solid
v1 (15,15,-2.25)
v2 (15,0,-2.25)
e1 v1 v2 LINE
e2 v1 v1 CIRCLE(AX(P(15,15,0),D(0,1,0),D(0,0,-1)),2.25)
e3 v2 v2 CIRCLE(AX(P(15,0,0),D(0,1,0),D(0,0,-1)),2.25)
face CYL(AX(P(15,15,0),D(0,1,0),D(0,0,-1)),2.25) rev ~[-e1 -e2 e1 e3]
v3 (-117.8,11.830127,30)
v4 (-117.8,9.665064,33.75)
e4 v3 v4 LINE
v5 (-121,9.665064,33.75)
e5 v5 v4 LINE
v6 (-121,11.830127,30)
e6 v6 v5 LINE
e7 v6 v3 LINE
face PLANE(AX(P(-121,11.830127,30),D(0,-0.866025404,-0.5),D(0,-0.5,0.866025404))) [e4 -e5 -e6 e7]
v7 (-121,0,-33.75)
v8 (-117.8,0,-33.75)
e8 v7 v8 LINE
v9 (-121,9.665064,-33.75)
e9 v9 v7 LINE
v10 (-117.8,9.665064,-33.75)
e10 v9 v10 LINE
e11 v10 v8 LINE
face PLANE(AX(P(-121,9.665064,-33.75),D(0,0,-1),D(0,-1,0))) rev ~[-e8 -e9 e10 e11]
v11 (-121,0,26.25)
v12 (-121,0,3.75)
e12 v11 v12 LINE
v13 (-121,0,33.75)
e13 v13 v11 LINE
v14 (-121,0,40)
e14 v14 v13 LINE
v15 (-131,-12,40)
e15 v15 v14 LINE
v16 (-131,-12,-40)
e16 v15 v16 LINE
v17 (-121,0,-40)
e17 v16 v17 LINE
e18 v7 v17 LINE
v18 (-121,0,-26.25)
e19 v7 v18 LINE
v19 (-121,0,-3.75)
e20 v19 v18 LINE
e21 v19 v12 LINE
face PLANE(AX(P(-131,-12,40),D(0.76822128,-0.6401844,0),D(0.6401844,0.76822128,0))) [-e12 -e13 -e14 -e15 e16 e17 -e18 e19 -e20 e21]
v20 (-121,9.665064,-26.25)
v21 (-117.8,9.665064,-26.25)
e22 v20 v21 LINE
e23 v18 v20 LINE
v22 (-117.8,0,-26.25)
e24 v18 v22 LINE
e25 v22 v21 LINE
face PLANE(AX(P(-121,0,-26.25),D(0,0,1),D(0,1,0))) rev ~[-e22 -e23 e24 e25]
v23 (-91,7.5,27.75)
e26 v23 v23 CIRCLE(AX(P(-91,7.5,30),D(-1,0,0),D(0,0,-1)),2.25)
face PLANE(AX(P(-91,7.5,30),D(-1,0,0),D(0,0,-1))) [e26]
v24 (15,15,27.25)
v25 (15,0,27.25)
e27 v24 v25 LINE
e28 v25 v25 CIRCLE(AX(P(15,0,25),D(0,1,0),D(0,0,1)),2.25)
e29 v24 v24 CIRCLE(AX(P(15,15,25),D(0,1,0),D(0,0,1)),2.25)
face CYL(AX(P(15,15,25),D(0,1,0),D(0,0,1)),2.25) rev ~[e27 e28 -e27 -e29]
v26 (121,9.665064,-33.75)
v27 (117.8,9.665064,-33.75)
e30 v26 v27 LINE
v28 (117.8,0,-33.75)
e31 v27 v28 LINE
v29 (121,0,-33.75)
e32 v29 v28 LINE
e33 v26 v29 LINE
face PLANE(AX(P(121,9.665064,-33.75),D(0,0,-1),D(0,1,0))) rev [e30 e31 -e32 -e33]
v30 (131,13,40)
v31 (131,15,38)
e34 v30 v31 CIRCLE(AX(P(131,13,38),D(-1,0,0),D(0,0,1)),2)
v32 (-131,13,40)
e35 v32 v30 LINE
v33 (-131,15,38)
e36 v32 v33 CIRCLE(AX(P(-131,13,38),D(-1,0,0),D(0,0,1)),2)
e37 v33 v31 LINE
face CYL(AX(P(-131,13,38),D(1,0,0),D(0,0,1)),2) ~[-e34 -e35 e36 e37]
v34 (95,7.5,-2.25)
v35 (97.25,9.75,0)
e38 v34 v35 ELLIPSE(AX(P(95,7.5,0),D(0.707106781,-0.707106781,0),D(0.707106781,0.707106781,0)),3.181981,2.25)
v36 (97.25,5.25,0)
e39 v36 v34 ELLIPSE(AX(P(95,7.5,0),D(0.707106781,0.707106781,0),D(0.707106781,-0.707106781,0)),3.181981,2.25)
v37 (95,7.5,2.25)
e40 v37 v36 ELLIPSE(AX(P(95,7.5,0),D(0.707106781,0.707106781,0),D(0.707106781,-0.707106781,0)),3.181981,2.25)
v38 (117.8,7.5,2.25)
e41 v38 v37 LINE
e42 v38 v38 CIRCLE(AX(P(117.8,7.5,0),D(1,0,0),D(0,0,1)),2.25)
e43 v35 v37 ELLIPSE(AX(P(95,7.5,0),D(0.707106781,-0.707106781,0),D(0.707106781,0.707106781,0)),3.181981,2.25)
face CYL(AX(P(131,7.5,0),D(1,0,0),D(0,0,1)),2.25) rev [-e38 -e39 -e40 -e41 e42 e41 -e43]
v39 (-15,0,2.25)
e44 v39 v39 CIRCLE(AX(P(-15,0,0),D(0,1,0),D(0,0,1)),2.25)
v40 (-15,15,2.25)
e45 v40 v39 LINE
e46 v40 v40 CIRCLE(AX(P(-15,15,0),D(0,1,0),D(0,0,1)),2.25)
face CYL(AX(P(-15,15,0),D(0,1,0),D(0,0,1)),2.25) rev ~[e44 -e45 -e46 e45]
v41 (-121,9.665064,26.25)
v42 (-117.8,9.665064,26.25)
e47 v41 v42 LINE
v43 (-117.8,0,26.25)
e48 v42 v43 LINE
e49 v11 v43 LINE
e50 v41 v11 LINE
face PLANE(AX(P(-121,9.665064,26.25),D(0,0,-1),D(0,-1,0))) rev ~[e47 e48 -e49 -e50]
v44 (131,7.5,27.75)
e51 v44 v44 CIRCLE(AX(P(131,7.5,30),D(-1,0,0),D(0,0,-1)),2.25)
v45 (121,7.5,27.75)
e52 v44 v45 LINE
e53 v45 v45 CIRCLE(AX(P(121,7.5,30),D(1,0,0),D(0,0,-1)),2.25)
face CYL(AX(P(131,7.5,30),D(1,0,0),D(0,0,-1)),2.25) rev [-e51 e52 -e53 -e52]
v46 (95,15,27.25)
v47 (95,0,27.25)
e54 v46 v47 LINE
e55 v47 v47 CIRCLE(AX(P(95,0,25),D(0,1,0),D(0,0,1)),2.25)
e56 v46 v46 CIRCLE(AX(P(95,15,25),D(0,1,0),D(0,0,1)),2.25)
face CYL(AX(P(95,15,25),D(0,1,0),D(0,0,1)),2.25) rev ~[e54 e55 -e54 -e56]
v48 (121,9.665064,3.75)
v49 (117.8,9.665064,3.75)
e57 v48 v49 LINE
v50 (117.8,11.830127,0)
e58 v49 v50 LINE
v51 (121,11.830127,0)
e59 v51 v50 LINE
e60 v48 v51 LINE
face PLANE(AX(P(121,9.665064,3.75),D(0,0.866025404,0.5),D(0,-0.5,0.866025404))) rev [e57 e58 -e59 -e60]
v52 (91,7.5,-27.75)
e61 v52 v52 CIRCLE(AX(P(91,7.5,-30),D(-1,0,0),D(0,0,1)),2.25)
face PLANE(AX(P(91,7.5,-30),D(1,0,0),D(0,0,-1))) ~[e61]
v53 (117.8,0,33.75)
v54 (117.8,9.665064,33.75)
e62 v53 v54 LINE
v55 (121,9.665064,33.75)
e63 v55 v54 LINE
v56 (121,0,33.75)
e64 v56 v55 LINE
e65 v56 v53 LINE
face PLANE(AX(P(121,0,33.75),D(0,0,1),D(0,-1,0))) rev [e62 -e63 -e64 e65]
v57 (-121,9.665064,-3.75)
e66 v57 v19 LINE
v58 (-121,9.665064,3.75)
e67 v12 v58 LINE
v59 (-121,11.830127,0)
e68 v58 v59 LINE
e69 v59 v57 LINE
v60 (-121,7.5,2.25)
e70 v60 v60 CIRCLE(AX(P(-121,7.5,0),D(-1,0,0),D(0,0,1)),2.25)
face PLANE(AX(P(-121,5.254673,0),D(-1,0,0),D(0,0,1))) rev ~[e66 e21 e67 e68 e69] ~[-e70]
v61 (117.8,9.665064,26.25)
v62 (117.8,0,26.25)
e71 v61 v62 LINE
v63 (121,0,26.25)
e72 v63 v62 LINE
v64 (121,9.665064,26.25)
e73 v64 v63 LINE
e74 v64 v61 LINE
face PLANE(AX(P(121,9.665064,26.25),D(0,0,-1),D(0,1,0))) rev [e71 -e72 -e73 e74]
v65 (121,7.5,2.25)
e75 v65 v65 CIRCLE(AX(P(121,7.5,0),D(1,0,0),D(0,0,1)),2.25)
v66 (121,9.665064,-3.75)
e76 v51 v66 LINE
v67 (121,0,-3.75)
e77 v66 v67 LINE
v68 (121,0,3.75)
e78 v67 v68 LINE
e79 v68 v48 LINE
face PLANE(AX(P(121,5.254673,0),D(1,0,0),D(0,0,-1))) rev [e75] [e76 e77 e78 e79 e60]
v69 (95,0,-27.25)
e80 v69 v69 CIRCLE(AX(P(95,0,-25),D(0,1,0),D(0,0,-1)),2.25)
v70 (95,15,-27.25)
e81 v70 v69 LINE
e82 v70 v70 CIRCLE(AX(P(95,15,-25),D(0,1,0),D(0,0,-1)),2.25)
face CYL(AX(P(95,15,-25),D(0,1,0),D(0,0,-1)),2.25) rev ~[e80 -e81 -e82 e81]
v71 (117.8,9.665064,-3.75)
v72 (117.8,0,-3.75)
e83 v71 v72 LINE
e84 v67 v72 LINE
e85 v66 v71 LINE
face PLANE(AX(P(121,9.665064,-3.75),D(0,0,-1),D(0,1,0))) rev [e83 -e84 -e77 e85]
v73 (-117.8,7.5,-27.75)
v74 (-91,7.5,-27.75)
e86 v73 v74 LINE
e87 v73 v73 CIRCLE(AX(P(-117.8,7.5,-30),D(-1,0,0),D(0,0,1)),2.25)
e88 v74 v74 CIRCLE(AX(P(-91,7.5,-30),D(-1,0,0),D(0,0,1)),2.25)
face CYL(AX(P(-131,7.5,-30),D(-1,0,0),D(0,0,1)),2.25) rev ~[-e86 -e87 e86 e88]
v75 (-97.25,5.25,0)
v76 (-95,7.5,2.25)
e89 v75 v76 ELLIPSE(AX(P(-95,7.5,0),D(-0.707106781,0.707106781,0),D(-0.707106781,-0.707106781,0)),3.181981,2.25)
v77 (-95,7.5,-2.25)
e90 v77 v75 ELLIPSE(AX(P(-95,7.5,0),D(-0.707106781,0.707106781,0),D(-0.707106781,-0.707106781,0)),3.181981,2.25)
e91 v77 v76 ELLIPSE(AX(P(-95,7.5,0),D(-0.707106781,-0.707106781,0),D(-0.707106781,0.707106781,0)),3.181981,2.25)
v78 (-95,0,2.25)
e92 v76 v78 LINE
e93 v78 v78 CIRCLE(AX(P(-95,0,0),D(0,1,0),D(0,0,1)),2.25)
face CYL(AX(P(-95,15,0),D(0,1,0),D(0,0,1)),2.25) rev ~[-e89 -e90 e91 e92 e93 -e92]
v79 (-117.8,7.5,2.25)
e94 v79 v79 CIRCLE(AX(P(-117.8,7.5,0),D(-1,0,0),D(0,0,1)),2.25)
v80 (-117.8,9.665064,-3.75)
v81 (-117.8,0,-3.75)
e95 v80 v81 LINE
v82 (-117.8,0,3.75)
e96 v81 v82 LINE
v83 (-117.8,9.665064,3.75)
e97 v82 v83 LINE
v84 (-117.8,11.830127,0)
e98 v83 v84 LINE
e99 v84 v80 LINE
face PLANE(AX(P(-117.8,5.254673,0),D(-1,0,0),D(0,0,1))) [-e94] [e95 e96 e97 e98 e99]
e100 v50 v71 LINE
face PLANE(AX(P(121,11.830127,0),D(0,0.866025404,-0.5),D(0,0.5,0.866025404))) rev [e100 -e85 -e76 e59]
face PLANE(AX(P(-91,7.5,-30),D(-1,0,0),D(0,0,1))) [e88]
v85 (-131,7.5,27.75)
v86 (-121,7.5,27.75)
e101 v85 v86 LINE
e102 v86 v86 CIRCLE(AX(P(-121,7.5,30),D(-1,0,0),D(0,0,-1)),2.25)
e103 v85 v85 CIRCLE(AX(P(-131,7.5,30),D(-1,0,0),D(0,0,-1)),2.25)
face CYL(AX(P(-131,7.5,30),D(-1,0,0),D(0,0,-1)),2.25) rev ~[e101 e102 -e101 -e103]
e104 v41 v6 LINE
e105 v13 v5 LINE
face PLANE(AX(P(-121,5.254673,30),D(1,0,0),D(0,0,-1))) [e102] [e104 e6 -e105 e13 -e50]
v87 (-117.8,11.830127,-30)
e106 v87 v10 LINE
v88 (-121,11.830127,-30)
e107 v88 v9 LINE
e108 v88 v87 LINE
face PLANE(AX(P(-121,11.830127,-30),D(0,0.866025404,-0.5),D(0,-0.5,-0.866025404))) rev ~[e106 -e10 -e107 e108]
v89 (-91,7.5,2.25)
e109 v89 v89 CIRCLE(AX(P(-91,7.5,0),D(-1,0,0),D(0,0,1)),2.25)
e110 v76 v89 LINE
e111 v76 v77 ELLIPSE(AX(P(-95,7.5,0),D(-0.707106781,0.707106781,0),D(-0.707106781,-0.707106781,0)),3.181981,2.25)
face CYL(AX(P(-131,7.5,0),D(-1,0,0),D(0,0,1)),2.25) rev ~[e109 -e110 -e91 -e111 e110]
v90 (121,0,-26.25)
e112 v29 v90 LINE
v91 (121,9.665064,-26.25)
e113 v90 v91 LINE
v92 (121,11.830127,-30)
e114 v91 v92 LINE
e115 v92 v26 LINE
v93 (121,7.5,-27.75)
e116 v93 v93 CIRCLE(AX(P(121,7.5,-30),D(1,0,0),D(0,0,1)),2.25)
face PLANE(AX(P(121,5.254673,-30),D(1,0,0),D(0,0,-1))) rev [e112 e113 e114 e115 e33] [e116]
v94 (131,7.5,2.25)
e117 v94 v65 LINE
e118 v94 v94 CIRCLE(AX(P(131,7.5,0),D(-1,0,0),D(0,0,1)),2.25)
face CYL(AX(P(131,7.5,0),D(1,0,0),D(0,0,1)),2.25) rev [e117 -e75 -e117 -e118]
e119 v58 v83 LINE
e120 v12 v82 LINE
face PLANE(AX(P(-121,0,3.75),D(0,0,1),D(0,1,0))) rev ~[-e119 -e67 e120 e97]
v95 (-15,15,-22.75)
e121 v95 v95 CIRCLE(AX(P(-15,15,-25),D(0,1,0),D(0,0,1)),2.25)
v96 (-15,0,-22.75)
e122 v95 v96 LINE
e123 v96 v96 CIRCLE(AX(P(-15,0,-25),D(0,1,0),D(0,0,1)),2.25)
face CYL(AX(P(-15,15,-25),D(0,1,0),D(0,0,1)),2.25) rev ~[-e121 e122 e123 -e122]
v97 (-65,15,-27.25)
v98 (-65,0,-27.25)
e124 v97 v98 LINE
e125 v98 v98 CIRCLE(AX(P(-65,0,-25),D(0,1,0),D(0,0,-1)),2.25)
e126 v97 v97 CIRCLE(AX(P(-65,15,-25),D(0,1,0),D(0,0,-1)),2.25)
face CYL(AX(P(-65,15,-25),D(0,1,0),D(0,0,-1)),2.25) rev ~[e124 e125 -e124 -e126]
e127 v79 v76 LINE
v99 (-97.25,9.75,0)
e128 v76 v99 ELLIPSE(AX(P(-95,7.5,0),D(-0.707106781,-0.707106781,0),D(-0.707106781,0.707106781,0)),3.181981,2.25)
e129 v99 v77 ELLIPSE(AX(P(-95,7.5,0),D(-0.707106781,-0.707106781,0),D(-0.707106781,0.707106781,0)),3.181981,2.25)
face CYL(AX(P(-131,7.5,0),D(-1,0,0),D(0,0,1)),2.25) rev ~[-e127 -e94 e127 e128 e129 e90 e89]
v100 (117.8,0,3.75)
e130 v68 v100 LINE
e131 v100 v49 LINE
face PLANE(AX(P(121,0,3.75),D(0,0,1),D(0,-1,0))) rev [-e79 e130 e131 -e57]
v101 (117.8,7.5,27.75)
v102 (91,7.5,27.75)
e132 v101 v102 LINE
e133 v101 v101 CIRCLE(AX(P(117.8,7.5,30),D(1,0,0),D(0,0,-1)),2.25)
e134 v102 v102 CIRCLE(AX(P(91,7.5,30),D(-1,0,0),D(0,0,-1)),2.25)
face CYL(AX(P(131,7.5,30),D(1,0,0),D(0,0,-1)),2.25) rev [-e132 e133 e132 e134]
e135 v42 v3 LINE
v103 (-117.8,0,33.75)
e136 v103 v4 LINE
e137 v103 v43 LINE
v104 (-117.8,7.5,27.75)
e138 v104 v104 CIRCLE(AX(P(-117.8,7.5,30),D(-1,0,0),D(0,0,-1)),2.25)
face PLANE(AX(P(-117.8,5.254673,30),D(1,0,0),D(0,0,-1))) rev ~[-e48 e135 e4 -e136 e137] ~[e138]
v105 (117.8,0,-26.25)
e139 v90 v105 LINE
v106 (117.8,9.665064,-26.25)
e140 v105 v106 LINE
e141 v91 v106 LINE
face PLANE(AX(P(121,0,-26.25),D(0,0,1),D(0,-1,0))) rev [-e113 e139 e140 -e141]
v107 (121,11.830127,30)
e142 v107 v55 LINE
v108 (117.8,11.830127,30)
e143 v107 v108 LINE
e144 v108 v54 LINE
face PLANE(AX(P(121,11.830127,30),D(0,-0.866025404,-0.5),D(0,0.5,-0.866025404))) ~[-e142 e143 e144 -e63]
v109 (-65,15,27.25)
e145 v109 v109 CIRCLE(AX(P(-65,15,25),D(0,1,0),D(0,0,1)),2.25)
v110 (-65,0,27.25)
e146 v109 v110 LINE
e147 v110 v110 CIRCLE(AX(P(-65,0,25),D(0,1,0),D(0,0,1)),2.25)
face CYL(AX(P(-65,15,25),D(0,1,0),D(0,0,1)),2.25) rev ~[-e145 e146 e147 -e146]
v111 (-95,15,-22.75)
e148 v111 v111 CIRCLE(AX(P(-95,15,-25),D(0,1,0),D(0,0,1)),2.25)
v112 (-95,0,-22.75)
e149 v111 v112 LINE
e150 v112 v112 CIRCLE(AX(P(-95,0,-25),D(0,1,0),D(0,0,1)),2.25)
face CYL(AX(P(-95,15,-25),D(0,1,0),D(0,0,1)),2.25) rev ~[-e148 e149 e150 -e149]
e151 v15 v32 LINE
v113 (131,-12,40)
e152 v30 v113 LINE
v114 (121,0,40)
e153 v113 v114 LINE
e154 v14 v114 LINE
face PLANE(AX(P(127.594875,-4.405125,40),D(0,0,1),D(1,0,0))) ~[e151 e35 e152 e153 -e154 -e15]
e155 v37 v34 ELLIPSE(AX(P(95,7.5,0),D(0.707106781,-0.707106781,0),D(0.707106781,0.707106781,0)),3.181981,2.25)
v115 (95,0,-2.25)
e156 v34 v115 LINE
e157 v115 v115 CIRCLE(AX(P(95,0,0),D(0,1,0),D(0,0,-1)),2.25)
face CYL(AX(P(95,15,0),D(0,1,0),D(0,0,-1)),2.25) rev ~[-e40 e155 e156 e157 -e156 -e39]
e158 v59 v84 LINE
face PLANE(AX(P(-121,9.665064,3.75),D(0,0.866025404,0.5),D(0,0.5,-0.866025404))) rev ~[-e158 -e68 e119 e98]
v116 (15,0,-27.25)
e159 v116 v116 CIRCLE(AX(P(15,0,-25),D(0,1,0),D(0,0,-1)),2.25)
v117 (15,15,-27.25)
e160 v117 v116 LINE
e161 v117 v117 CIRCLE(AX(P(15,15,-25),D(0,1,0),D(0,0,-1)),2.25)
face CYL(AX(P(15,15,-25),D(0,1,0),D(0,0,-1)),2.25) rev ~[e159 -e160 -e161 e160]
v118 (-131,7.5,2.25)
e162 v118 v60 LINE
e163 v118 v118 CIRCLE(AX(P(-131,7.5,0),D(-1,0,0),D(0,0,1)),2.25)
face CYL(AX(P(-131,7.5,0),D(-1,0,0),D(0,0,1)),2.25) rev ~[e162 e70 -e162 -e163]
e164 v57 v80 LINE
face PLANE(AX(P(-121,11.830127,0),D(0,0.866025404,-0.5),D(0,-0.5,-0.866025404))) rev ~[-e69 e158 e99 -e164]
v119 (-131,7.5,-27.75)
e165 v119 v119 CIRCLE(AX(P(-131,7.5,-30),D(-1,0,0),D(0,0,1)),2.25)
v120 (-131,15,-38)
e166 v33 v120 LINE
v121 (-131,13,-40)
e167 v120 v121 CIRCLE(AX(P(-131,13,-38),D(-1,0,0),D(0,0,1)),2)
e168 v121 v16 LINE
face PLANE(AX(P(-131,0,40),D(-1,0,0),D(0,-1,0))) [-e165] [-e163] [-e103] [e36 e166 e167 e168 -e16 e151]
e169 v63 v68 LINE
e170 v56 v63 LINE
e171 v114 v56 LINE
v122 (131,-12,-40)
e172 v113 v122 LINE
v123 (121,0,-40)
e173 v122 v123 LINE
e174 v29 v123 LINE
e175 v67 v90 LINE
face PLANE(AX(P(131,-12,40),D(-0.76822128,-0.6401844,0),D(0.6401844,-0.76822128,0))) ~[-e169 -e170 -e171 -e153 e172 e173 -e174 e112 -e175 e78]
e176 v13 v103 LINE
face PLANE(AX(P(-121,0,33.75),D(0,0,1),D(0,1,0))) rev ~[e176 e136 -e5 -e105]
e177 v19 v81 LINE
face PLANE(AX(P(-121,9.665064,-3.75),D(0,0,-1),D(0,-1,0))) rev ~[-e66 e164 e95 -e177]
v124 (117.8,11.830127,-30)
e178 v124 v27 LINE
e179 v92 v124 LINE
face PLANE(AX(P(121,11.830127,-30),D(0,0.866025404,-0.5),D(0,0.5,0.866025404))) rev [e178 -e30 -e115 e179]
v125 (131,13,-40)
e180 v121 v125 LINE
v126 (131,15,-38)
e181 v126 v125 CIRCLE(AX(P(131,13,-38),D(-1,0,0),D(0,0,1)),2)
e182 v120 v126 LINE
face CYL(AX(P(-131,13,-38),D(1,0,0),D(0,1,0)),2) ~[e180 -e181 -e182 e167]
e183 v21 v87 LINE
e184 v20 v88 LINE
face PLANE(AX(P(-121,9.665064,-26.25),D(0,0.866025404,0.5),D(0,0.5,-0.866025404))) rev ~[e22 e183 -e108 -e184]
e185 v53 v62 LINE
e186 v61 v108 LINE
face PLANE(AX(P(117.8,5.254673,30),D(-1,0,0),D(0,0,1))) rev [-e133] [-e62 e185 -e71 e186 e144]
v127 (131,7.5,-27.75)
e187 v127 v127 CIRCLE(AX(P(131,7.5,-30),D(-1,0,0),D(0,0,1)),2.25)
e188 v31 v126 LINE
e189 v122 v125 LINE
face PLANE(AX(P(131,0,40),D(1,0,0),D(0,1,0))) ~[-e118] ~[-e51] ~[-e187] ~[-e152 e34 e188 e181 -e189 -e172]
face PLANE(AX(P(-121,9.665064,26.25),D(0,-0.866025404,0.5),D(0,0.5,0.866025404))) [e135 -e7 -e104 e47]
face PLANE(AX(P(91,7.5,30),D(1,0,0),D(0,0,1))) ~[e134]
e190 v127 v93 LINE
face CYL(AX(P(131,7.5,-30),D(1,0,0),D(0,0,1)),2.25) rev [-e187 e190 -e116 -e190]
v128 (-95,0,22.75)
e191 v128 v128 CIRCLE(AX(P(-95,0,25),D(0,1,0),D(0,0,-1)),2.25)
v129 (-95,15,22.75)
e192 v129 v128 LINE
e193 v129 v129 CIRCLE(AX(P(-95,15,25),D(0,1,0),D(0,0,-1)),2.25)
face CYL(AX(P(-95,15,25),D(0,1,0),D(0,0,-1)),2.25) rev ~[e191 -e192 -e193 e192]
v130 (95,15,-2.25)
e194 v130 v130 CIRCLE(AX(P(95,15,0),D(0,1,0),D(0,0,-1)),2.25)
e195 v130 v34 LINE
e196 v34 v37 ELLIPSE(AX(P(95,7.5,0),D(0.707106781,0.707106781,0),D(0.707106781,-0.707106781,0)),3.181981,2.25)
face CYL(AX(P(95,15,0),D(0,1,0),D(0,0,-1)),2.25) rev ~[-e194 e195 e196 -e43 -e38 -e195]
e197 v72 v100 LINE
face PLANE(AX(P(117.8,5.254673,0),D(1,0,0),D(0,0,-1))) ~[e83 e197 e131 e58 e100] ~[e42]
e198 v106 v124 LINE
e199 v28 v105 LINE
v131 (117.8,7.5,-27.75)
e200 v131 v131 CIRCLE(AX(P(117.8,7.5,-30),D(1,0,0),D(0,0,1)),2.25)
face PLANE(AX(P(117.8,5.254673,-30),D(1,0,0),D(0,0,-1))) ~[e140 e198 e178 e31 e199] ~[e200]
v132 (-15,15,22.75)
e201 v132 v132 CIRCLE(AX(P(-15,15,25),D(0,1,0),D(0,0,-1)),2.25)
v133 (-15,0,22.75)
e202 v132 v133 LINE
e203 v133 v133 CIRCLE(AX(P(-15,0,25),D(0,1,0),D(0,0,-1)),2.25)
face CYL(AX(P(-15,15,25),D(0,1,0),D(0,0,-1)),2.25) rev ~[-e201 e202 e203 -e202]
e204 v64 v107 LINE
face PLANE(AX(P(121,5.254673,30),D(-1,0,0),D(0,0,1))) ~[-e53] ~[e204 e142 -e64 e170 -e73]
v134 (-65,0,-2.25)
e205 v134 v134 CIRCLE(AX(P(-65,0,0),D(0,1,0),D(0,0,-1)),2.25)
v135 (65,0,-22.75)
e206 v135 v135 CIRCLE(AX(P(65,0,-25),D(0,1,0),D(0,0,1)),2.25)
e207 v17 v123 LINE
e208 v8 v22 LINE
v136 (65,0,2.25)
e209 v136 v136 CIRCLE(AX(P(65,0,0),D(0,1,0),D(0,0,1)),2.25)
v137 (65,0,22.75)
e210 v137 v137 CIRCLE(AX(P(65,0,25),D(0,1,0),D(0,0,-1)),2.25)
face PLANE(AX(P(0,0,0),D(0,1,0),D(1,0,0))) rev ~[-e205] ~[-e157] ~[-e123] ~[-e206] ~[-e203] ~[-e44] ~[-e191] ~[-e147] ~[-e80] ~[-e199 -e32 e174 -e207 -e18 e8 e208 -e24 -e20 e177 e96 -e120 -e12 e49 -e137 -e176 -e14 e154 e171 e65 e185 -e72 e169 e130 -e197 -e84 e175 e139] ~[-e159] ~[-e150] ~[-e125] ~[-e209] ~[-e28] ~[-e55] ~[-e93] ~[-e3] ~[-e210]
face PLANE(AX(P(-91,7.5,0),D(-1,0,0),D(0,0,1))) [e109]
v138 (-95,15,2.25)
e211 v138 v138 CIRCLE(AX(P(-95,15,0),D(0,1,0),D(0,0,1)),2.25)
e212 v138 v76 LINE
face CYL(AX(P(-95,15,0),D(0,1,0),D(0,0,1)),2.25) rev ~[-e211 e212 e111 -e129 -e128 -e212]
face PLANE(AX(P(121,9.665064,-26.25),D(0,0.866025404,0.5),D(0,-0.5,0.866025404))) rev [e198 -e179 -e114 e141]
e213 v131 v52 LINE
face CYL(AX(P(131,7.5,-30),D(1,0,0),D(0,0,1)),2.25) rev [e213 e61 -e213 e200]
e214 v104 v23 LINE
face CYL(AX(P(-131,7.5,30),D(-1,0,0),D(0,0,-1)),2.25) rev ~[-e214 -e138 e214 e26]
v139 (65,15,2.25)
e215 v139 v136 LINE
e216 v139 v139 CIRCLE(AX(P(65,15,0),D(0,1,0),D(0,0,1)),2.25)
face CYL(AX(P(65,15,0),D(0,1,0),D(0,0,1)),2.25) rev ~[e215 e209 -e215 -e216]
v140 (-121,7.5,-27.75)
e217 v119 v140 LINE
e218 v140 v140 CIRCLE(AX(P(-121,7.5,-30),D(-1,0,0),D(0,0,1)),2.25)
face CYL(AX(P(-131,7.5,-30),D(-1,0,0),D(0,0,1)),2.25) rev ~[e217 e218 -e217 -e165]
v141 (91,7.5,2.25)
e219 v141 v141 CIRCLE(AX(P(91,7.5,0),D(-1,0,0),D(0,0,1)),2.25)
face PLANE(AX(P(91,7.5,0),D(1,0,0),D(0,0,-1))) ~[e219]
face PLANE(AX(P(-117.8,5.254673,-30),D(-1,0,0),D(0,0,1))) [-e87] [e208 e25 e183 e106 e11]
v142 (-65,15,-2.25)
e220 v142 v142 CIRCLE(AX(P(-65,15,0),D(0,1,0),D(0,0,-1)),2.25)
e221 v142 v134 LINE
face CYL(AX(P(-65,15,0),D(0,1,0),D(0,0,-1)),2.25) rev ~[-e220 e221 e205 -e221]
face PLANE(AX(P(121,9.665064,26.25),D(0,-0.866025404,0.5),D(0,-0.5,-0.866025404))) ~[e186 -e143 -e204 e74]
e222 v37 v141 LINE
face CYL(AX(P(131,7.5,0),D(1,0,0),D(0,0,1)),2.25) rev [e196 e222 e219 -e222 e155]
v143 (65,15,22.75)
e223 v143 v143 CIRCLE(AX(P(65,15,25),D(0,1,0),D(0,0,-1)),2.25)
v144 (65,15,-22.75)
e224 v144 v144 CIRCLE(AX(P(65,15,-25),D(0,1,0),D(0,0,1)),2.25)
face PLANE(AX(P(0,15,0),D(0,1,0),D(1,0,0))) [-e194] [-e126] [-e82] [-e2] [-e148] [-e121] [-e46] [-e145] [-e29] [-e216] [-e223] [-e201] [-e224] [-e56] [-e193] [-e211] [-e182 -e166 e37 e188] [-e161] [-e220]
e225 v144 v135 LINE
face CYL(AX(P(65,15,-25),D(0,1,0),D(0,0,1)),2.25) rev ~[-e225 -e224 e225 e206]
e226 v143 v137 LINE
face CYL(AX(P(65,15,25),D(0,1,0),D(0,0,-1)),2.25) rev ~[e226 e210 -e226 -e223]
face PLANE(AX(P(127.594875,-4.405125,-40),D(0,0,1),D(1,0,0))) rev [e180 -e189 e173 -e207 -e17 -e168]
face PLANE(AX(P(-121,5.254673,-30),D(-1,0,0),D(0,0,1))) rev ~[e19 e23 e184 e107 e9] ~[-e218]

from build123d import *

# Parameters (mm, degrees)
SKETCH1_W           = 262
SKETCH1_H           = 80
BOSS_EXTRUDE1_DEPTH = 15
SKETCH2_R           = 2.25
CUT_EXTRUDE1_DEPTH  = 40
CUT_EXTRUDE2_DEPTH  = 3.2
SKETCH4_R           = 2.25
CUT_EXTRUDE3_DEPTH  = 138.789694825
LPATTERN1_COUNT     = 2
LPATTERN1_PITCH     = 80
LPATTERN1_COL_COUNT = 2
LPATTERN1_COL_PITCH = 80
FILLET1_R           = 2
BOSS_EXTRUDE2_DEPTH = 80


with BuildPart() as part:
    # Sketch1 → Boss-Extrude1 (new body)
    with BuildSketch(Plane(origin=(0, 0, 0), x_dir=(1, 0, 0), z_dir=(0, 1, 0))):
        Rectangle(SKETCH1_W, SKETCH1_H)
    extrude(amount=BOSS_EXTRUDE1_DEPTH)

    # Sketch2 → Cut-Extrude1 (cut)
    with BuildSketch(Plane.ZY.offset(131)):
        with Locations((0, 7.5)):
            Circle(SKETCH2_R)
        with Locations((-30, 7.5)):
            Circle(SKETCH2_R)
        with Locations(Location((30, 7.5, 0), (0, 0, 180))):
            Circle(SKETCH2_R)
    cut_extrude1 = extrude(amount=-CUT_EXTRUDE1_DEPTH, mode=Mode.SUBTRACT)

    # Sketch3 → Cut-Extrude2 (cut)
    with BuildSketch(Plane.ZY.offset(121)):
        Polygon((-33.75, 5.334936491), (-33.75, 0), (-26.25, 0), (-26.25, 5.334936491), (-26.25, 9.665063509), (-30, 11.830127019), (-33.75, 9.665063509), align=None)
        Polygon((0, 11.830127019), (-3.75, 9.665063509), (-3.75, 5.334936491), (-3.75, 0), (3.75, 0), (3.75, 5.334936491), (3.75, 9.665063509), align=None)
        Polygon((33.75, 5.334936491), (33.75, 0), (26.25, 0), (26.25, 5.334936491), (26.25, 9.665063509), (30, 11.830127019), (33.75, 9.665063509), align=None)
    cut_extrude2 = extrude(amount=-CUT_EXTRUDE2_DEPTH, mode=Mode.SUBTRACT)

    # Mirror1: Cut-Extrude1, Cut-Extrude2 across plane
    add(cut_extrude1.mirror(Plane(origin=(0, 0, 0), x_dir=(0, 0, 1), z_dir=(1, 0, 0))), mode=Mode.SUBTRACT)
    add(cut_extrude2.mirror(Plane(origin=(0, 0, 0), x_dir=(0, 0, 1), z_dir=(1, 0, 0))), mode=Mode.SUBTRACT)

    # Sketch4 → Cut-Extrude3 (cut, through all)
    with BuildSketch(Plane(origin=(0, 15, 0), x_dir=(1, 0, 0), z_dir=(0, 1, 0))):
        with Locations(Location((-15, 0, 0), (0, 0, 270))):
            Circle(SKETCH4_R)
        with Locations(Location((-15, 25, 0), (0, 0, 270))):
            Circle(SKETCH4_R)
        with Locations(Location((-15, -25, 0), (0, 0, 90))):
            Circle(SKETCH4_R)
        with Locations(Location((15, -25, 0), (0, 0, 270))):
            Circle(SKETCH4_R)
        with Locations(Location((15, 0, 0), (0, 0, 90))):
            Circle(SKETCH4_R)
        with Locations(Location((15, 25, 0), (0, 0, 90))):
            Circle(SKETCH4_R)
    cut_extrude3 = extrude(amount=-CUT_EXTRUDE3_DEPTH, mode=Mode.SUBTRACT)

    # LPattern1: Cut-Extrude3 ×2
    with Locations(*[(i * LPATTERN1_PITCH, 0, 0) for i in range(1, LPATTERN1_COUNT)]):
        add(cut_extrude3, mode=Mode.SUBTRACT)

    # LPattern1 col: Cut-Extrude3 ×2
    with Locations(*[(-i * LPATTERN1_COL_PITCH, 0, 0) for i in range(1, LPATTERN1_COL_COUNT)]):
        add(cut_extrude3, mode=Mode.SUBTRACT)

    # Fillet1
    fillet1_edges = [part.edges().sort_by_distance(p)[0] for p in [
        (0, 15, 40),
        (0, 15, -40),
    ]]
    fillet(fillet1_edges, radius=FILLET1_R)

    # Sketch7 → Boss-Extrude2 (add, through all)
    with BuildSketch(Plane.XY.offset(40)):
        Polygon((-131, 0), (-131, -12), (-121, 0), align=None)
    boss_extrude2 = extrude(amount=-BOSS_EXTRUDE2_DEPTH)

    # Mirror2: Boss-Extrude2 across plane
    add(boss_extrude2.mirror(Plane(origin=(0, 0, 0), x_dir=(0, 0, 1), z_dir=(1, 0, 0))))


solid = part.part
